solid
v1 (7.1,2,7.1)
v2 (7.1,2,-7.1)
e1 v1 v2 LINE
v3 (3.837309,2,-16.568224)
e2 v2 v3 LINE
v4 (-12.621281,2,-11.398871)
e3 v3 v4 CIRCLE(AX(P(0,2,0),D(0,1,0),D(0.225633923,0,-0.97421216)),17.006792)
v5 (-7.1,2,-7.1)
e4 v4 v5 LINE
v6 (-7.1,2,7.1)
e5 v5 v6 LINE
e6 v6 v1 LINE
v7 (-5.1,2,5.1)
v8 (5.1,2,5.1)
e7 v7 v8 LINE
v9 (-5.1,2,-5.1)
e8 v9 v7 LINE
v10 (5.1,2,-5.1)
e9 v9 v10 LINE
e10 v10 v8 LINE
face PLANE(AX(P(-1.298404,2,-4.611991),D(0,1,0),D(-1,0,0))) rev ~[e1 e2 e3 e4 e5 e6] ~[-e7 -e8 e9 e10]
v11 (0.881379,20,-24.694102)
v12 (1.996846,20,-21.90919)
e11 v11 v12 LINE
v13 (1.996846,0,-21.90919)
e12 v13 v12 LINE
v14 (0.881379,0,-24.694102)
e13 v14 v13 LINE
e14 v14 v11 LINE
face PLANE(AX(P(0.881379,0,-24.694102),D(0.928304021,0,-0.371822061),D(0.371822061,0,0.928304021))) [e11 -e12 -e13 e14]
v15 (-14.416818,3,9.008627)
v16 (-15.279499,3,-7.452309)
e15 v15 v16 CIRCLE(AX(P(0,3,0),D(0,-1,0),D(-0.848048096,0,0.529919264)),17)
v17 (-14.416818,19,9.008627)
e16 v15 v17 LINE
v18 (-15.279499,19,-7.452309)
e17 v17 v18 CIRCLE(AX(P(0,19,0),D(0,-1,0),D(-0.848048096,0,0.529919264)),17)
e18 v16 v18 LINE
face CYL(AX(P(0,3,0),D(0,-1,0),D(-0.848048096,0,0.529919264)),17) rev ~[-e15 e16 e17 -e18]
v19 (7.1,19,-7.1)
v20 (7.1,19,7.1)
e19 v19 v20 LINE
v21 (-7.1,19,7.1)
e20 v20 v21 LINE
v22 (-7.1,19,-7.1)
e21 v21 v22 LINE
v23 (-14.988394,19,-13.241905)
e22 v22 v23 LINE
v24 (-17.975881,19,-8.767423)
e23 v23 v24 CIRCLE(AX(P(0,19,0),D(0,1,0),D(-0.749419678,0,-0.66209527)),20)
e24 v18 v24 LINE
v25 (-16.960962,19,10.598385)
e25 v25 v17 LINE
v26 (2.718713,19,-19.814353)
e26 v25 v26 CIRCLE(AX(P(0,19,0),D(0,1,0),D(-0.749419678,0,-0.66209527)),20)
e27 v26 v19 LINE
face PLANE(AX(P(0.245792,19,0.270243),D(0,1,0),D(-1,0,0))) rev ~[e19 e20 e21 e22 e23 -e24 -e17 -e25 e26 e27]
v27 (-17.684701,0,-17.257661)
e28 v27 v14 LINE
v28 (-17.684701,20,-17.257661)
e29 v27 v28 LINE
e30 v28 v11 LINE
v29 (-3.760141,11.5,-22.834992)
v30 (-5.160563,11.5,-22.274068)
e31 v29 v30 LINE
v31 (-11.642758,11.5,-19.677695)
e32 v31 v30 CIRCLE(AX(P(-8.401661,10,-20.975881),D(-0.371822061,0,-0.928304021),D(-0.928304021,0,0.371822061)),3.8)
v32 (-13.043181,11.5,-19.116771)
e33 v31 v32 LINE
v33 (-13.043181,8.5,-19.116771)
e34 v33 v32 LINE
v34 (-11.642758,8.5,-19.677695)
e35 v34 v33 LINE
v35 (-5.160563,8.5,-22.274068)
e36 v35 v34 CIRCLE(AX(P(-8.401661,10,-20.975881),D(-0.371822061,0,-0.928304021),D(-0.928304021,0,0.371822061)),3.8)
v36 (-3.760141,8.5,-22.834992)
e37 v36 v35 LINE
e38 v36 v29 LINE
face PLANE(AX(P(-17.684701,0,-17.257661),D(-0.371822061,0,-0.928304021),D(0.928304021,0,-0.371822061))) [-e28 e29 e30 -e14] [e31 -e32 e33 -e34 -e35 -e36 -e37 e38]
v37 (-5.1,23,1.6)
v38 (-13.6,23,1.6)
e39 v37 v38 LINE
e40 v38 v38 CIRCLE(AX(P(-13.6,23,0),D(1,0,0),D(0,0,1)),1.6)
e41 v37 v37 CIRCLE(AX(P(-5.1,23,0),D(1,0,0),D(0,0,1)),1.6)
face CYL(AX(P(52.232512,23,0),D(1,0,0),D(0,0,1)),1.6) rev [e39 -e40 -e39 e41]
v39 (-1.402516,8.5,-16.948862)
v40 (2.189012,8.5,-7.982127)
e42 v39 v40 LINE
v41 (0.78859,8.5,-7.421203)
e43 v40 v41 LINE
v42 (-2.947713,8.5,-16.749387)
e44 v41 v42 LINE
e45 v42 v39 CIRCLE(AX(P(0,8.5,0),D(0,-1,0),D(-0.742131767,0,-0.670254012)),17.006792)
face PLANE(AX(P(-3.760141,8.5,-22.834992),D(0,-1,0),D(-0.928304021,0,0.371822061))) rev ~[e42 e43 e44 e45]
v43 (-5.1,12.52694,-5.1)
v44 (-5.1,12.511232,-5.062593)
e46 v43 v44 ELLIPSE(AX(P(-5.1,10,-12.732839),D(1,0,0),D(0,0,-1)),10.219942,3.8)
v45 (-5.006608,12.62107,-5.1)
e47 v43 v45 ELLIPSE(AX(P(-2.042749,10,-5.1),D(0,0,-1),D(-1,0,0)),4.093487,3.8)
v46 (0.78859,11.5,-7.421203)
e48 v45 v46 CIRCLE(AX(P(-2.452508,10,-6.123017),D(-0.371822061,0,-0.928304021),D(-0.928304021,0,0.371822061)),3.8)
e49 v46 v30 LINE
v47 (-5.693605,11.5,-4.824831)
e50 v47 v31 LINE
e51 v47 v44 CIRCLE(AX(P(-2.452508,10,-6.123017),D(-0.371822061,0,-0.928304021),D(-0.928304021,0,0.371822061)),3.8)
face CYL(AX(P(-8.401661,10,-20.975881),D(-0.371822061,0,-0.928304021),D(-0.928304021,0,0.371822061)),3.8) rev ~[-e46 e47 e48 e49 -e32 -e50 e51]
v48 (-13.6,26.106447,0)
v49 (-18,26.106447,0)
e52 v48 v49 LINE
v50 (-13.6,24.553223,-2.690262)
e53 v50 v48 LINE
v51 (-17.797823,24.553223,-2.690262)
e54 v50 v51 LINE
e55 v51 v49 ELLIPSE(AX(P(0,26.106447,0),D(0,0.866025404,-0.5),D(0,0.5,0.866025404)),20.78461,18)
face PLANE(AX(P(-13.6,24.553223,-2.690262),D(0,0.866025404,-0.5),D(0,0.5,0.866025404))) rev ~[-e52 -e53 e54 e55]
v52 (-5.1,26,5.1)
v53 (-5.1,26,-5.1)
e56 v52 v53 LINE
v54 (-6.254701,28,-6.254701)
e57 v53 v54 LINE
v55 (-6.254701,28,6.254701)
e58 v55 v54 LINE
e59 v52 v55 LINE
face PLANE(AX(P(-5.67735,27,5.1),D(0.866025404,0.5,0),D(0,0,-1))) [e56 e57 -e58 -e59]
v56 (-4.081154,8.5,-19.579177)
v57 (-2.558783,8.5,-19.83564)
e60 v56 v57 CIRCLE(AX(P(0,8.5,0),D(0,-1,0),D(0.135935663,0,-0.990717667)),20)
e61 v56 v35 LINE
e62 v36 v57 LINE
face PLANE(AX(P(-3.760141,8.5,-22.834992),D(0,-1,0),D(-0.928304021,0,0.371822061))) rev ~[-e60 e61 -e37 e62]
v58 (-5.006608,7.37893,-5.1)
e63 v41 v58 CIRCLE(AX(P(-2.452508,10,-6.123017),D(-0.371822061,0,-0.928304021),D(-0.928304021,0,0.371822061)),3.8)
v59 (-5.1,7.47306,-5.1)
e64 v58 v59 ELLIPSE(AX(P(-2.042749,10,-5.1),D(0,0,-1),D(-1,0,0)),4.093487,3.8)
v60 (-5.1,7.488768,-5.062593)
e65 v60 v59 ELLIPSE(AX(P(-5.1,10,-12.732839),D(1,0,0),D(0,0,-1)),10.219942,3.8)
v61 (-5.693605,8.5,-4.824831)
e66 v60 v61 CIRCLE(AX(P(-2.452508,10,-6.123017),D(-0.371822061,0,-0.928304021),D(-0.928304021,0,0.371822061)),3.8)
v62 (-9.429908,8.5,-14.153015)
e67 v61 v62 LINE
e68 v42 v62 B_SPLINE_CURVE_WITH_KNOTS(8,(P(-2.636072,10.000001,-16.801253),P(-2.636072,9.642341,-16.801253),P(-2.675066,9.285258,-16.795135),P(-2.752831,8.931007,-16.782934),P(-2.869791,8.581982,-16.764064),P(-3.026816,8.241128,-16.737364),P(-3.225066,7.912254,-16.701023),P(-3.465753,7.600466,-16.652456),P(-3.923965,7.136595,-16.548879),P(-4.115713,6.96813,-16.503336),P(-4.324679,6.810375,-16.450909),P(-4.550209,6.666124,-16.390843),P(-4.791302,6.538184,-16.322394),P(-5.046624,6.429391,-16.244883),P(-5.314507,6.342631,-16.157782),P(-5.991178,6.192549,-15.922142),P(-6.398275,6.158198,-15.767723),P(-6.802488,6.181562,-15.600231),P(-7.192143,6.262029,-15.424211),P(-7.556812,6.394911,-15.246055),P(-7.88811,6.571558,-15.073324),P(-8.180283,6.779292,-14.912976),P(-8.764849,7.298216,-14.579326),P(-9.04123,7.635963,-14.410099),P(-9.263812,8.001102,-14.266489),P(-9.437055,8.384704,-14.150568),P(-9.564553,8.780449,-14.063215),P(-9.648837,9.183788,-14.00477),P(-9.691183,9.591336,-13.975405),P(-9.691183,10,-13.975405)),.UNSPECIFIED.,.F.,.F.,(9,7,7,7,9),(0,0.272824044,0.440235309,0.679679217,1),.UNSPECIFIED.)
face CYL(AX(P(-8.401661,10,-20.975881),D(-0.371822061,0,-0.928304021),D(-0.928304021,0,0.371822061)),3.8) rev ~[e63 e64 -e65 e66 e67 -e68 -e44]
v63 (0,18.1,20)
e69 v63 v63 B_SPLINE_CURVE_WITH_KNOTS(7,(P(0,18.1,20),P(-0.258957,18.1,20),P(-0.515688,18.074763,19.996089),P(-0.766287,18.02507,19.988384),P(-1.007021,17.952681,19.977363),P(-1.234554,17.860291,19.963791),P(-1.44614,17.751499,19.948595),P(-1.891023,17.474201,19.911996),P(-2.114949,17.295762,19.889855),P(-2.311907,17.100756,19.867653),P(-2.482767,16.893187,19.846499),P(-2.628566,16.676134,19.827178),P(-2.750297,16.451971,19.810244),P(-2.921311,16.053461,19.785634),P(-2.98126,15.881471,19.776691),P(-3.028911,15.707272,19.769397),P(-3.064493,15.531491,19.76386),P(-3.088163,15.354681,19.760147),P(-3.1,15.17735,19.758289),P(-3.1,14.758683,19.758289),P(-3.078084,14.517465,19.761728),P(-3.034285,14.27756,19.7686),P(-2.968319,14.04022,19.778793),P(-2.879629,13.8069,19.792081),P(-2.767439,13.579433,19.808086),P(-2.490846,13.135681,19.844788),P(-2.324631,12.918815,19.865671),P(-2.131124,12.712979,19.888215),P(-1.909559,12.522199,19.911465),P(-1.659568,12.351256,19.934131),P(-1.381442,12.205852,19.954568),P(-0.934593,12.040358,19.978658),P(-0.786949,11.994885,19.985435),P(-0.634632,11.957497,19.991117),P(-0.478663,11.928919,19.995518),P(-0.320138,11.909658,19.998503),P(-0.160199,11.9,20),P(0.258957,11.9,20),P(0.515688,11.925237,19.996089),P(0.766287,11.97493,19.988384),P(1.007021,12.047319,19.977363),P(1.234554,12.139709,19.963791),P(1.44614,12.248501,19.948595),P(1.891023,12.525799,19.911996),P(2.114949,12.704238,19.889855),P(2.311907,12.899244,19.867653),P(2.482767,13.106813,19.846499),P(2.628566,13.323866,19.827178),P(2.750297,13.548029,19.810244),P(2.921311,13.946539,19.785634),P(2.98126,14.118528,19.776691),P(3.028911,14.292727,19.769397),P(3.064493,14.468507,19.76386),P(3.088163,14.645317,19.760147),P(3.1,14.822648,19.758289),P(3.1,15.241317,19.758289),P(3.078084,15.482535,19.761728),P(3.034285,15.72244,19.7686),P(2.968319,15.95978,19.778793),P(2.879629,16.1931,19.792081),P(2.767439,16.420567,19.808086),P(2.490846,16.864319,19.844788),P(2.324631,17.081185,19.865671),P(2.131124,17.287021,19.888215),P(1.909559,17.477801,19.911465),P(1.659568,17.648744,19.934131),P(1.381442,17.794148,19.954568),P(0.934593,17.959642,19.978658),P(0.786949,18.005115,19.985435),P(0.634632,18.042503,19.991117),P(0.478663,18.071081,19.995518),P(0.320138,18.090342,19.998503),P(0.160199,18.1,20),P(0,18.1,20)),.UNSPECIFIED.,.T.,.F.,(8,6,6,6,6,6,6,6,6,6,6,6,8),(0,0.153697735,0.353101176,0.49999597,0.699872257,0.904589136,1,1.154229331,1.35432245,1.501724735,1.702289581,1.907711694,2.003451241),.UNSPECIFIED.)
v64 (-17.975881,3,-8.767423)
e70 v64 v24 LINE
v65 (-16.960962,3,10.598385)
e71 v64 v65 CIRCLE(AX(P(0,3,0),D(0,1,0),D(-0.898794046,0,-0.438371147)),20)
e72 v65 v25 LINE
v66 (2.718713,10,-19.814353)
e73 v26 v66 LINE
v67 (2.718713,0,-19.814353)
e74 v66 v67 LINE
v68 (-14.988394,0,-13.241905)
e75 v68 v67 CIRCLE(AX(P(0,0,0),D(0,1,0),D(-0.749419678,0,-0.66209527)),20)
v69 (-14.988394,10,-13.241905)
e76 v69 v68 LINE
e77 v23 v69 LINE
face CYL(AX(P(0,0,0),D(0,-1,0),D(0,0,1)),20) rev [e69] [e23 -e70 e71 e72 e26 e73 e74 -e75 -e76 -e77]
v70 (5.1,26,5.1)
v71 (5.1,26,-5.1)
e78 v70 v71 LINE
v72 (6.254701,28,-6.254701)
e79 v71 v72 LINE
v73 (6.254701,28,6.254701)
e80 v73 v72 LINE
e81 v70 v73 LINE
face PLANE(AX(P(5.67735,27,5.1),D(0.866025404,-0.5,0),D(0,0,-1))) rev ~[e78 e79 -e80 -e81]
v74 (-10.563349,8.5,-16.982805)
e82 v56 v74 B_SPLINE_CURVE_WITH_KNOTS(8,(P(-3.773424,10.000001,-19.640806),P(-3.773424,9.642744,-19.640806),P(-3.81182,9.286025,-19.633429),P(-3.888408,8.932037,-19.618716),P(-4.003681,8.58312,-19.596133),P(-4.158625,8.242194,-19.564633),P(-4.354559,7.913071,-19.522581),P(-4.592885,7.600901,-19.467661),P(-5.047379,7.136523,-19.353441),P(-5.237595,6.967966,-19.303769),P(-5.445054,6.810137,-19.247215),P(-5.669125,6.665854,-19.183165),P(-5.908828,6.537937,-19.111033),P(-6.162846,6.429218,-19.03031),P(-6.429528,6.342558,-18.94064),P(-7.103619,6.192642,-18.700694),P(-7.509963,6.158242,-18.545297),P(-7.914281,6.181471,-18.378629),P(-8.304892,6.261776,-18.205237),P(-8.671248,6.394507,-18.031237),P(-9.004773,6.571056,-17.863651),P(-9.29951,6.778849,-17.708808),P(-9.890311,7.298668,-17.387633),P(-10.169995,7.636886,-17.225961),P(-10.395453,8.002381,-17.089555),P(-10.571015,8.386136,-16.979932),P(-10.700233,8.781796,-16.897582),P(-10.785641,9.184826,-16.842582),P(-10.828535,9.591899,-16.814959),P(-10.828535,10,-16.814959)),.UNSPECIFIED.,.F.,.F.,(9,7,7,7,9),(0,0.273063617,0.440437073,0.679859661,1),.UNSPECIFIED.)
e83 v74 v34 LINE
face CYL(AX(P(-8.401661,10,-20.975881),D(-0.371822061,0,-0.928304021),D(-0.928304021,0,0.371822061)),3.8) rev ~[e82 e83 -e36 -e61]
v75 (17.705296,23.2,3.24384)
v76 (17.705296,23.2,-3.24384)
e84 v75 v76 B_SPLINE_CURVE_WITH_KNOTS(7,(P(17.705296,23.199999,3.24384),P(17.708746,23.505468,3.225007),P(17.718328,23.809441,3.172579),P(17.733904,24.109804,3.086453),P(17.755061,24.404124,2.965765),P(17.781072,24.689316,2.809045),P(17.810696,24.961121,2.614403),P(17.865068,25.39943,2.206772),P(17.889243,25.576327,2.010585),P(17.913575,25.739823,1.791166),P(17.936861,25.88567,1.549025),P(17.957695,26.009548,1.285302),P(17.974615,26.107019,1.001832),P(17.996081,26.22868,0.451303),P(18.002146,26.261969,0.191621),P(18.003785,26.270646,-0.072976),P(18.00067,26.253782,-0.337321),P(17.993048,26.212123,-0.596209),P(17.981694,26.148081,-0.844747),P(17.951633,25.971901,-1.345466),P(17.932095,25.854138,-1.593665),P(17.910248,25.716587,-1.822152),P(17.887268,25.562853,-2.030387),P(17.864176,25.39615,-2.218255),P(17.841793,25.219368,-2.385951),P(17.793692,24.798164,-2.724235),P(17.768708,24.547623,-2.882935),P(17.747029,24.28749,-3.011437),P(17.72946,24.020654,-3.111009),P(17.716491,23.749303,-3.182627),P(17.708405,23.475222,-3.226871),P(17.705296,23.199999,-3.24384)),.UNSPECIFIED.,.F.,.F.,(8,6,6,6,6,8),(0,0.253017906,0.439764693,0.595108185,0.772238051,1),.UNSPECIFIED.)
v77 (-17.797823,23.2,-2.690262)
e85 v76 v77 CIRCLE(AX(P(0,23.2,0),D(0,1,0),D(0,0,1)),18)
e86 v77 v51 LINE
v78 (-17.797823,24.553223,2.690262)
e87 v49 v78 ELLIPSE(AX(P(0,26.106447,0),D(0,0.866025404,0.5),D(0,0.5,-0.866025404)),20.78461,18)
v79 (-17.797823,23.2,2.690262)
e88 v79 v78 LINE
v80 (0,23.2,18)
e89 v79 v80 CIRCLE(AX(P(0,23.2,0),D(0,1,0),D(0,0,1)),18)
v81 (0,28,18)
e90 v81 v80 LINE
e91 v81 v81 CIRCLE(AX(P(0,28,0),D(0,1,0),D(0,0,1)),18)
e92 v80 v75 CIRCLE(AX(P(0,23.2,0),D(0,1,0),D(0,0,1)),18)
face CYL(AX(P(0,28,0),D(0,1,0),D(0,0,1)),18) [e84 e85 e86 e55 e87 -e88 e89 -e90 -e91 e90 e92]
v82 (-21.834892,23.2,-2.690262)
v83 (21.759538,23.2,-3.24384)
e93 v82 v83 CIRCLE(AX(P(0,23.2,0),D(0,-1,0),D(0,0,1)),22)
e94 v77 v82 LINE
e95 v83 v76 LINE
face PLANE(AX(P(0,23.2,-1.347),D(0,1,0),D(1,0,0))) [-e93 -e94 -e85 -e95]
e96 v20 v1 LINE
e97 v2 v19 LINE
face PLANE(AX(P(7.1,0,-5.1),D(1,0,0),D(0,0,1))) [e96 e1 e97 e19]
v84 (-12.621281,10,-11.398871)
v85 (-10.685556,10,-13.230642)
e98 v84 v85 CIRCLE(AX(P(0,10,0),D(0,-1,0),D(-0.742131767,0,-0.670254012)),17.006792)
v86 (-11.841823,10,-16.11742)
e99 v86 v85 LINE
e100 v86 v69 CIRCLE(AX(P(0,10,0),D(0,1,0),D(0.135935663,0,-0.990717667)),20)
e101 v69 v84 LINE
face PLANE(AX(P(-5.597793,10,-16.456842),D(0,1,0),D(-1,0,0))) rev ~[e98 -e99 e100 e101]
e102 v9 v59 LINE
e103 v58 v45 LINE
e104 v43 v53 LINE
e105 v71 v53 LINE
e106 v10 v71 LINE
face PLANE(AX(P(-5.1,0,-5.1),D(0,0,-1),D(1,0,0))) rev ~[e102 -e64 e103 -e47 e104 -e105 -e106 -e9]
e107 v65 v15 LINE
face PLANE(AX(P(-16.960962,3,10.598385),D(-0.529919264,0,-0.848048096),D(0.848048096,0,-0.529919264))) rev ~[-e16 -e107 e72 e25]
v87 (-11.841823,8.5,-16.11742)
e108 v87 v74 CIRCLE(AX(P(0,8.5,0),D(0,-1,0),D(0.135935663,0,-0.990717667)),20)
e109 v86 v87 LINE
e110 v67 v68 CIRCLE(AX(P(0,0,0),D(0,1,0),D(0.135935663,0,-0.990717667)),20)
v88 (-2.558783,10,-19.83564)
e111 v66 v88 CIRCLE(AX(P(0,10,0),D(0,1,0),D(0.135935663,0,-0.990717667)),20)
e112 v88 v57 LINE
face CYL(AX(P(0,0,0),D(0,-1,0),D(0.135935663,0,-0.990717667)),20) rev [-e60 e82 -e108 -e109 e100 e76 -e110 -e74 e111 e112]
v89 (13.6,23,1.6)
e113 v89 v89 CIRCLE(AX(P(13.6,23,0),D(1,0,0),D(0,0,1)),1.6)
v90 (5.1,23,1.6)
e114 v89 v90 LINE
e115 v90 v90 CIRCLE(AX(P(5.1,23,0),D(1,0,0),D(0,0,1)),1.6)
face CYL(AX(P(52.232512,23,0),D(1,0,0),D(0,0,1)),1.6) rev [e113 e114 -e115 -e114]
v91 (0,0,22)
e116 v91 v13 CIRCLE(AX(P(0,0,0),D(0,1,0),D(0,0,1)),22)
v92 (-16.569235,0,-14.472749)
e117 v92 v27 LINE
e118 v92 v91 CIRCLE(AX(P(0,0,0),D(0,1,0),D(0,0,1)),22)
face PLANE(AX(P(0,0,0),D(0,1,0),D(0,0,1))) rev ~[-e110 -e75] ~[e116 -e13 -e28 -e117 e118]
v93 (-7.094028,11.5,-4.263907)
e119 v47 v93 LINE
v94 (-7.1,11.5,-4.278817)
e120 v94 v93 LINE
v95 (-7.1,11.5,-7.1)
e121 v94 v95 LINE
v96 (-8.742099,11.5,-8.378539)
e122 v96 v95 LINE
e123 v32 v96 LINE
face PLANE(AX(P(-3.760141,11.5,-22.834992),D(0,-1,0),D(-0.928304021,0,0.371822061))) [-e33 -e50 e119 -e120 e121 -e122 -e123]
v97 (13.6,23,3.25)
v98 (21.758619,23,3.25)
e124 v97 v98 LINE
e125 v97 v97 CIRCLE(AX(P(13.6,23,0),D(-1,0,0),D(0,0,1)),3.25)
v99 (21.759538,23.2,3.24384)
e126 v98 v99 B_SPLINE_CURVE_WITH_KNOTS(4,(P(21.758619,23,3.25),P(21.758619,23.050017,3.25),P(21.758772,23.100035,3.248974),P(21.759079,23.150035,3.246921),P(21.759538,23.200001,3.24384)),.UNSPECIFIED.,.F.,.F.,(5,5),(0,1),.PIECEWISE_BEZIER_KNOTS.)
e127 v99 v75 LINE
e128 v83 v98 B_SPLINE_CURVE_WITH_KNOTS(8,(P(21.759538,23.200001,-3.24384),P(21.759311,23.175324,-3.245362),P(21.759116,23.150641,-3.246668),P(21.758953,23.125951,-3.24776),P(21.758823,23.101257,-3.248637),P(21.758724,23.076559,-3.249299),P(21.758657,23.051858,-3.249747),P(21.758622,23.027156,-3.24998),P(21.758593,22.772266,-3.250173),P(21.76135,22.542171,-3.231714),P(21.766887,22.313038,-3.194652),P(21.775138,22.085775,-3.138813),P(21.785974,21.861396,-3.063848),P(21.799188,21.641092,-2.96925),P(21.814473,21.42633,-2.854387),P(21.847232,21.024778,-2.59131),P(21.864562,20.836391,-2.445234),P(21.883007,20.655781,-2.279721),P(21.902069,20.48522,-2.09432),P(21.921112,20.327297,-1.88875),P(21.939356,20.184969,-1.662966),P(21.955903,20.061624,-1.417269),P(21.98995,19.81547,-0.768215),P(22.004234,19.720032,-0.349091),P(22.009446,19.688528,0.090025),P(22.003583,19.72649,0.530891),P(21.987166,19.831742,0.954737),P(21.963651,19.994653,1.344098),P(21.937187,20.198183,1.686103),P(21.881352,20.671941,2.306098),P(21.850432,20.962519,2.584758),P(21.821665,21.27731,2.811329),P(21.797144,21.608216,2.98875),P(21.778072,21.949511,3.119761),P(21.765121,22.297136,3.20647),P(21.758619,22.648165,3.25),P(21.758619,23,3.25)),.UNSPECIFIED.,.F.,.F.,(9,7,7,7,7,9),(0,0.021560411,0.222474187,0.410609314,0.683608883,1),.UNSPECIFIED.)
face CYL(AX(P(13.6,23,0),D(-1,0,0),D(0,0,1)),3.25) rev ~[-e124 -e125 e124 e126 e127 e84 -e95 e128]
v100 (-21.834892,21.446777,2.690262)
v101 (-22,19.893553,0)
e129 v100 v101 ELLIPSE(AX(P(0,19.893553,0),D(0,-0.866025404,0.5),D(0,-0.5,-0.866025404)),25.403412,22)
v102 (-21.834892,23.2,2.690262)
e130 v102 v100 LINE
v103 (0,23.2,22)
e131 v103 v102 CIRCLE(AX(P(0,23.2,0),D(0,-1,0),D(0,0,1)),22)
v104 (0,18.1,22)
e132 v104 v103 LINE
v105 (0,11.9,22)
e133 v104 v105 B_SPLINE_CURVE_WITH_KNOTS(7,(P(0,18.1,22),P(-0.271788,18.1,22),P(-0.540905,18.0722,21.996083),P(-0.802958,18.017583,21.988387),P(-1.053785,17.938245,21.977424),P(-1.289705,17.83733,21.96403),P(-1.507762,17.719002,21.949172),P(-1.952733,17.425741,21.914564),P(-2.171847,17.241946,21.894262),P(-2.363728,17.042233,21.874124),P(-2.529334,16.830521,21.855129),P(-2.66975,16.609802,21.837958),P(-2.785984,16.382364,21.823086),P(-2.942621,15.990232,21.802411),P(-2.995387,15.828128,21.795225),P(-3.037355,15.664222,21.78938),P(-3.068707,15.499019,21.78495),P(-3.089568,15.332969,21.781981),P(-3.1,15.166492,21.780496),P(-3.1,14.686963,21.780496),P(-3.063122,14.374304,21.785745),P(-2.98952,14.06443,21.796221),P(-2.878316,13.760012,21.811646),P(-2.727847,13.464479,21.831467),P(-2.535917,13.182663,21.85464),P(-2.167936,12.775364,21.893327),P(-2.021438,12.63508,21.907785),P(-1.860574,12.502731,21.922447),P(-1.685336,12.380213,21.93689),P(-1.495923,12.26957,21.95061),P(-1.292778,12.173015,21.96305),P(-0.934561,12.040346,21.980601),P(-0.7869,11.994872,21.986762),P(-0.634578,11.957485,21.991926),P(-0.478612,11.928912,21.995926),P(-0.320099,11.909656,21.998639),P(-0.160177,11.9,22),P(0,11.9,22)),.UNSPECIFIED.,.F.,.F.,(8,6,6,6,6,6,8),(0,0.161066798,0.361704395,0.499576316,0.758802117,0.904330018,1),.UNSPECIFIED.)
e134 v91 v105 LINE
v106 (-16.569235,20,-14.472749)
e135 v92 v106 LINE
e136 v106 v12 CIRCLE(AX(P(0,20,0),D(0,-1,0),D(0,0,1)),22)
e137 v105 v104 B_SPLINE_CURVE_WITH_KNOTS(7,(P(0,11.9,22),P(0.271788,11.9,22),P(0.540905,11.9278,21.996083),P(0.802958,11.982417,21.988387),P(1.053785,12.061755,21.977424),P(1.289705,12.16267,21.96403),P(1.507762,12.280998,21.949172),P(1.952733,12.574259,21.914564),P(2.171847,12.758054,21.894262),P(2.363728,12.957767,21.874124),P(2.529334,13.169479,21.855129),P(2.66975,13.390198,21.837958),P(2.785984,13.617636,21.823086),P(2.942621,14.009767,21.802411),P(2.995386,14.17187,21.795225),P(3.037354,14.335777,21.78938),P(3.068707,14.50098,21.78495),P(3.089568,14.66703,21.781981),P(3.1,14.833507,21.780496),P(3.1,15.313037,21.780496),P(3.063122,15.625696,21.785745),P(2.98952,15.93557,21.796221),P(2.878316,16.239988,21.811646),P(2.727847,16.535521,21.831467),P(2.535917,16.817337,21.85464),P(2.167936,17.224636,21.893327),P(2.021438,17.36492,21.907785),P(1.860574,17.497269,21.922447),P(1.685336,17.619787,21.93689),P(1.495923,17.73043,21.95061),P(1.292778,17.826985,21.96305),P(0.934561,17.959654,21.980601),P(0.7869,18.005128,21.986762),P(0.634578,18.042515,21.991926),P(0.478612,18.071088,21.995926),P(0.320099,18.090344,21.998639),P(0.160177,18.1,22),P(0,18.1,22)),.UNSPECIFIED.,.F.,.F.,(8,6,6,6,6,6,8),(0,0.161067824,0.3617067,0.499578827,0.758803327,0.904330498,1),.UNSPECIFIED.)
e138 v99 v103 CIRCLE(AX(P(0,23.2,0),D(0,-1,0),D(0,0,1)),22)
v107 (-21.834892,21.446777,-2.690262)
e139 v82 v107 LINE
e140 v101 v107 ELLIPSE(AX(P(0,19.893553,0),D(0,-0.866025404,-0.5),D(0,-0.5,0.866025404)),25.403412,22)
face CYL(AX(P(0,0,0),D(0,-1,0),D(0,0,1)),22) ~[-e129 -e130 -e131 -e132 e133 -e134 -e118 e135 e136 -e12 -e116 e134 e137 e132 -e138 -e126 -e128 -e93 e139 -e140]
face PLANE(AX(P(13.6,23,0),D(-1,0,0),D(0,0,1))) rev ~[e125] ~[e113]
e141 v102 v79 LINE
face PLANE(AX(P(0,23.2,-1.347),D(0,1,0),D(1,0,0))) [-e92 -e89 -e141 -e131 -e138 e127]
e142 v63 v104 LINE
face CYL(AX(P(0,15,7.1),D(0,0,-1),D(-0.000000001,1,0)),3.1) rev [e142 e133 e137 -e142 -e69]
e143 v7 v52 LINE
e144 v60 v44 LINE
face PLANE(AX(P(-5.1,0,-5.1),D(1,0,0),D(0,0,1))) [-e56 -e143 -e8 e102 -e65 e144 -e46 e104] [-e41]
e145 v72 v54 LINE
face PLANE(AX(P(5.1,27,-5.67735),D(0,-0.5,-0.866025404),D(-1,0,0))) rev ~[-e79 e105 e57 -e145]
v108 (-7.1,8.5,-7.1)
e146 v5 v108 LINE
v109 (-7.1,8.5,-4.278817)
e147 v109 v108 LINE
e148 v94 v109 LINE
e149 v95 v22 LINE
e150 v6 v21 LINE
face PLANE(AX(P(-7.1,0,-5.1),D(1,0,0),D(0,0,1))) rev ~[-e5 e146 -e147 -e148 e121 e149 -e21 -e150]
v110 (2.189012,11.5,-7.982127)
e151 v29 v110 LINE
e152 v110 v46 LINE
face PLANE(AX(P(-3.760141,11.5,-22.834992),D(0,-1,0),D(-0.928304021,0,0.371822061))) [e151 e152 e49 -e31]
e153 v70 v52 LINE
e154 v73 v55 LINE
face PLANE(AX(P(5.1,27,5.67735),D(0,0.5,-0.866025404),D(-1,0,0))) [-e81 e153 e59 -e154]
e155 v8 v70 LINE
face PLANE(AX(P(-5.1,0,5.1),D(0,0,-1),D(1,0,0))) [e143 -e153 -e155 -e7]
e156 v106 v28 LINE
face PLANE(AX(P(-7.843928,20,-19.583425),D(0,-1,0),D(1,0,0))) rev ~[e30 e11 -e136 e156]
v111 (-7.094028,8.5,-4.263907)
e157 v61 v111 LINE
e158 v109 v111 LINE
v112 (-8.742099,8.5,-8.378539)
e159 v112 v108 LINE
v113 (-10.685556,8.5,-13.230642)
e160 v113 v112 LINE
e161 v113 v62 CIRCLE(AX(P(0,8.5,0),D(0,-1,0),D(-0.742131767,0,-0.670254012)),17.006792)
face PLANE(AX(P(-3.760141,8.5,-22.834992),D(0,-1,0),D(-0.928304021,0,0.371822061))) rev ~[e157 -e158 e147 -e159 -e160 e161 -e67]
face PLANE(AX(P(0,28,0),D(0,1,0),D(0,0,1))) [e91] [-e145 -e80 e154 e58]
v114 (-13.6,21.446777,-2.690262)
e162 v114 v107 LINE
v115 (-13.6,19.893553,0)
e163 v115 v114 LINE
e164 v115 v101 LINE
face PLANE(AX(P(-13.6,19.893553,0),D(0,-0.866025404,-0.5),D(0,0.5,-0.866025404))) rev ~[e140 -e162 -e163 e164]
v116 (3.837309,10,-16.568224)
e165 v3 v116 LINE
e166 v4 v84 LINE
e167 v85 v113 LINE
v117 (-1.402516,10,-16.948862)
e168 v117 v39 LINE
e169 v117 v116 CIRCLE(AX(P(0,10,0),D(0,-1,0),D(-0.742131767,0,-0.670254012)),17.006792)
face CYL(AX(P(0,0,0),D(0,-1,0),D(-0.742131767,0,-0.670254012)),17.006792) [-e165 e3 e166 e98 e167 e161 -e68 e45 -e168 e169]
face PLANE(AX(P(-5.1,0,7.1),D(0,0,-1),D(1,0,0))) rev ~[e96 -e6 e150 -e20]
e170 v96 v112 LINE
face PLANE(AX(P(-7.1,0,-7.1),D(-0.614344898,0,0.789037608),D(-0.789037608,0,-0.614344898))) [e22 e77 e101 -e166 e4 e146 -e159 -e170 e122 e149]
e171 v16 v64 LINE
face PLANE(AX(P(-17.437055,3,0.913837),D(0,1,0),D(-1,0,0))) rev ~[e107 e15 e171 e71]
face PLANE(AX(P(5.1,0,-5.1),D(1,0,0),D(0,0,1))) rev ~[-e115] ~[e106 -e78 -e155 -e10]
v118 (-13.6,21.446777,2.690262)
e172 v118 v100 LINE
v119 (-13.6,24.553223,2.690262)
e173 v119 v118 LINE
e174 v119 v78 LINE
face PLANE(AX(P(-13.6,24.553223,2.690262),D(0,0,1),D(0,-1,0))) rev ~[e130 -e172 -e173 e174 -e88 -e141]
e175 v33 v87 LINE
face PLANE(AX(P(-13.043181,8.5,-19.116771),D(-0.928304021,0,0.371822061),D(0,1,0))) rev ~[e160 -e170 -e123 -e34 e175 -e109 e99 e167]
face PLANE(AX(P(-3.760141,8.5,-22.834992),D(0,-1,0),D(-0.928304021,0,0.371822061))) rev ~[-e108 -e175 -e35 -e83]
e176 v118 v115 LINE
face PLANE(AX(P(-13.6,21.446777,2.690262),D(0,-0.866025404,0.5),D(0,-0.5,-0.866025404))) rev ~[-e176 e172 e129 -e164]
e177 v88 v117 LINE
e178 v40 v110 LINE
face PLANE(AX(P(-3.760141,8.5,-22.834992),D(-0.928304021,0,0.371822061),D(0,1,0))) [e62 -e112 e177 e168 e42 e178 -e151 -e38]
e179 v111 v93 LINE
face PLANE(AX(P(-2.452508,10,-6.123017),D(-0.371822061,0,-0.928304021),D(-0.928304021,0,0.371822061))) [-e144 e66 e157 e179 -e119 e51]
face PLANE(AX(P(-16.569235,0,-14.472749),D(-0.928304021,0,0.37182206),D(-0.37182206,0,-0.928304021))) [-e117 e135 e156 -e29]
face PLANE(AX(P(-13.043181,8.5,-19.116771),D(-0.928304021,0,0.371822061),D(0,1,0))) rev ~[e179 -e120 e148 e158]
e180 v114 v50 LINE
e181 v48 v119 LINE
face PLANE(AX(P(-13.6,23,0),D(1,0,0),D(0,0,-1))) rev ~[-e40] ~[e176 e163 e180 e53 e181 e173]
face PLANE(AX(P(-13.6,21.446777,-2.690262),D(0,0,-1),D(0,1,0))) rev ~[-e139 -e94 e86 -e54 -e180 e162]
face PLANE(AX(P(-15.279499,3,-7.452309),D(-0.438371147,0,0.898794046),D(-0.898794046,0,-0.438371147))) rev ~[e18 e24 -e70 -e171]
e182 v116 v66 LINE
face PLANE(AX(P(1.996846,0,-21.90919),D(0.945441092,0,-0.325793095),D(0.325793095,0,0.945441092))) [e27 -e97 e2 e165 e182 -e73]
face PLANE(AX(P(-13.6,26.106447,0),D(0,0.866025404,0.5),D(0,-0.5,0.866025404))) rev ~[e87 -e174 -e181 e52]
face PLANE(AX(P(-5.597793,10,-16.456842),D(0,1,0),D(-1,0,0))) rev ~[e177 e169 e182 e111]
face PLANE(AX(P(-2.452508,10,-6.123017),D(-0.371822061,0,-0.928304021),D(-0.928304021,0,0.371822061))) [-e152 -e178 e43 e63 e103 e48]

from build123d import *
from OCP.BRepFilletAPI import BRepFilletAPI_MakeChamfer

# Parameters (mm, degrees)
SKETCH1_R                = 22
BOSS_EXTRUDE1_DEPTH      = 28
SKETCH2_W                = 10.2
SKETCH2_H                = 10.2
CUT_EXTRUDE2_DEPTH       = 42.856899073
SHELL3_T                 = -2
SKETCH3_R                = 3.1
CUT_EXTRUDE3_DEPTH       = 46.987063398
CHAMFER1_SIZE            = 2
CHAMFER1_SIZE2           = 1.154700538
BOSS_EXTRUDE8_START      = 23
BOSS_EXTRUDE8_DEPTH      = 23
BOSS_EXTRUDE4_DEPTH      = 20
BOSS_EXTRUDE6_DEPTH      = 26
CUT_EXTRUDE5_DEPTH       = 10
SKETCH13_R               = 3.8
CUT_EXTRUDE6_DEPTH       = 16
SKETCH15_W               = 10
SKETCH15_H               = 3
CUT_EXTRUDE8_DEPTH       = 16
CUT_EXTRUDE9_DEPTH       = 2
BOSS_EXTRUDE10_START     = 7
BOSS_EXTRUDE10_DEPTH     = 7
SKETCH21_OUTSIDE_W       = 60
SKETCH21_OUTSIDE_H       = 62.694
SKETCH21_OUTSIDE_R       = 18
CUT_EXTRUDE11_DEPTH      = 4.8
CUT_EXTRUDE12_DEPTH      = 47.132512216
CUT_EXTRUDE12_DEPTH_BACK = 47.132512216
SKETCH22_R               = 1.6
CUT_EXTRUDE13_START      = -8.5
SKETCH24_R               = 3.25
CUT_EXTRUDE13_DEPTH      = 38.632512277
CUT_EXTRUDE14_START      = -8.5
CUT_EXTRUDE14_DEPTH      = 38.632512278


with BuildPart() as part:
    # Sketch1 → Boss-Extrude1 (new body)
    with BuildSketch(Plane(origin=(0, 0, 0), x_dir=(1, 0, 0), z_dir=(0, 1, 0))):
        with Locations(Location((0, 0, 0), (0, 0, 270))):
            Circle(SKETCH1_R)
    extrude(amount=BOSS_EXTRUDE1_DEPTH)

    # Sketch2 → Cut-Extrude2 (cut, through all)
    with BuildSketch(Plane.XZ):
        Rectangle(SKETCH2_W, SKETCH2_H)
    extrude(amount=-CUT_EXTRUDE2_DEPTH, mode=Mode.SUBTRACT)

    # Shell3
    shell3_openings = [part.faces().sort_by_distance(p)[0] for p in [
        (0, 0, -21.377746033),
    ]]
    offset(amount=SHELL3_T, openings=shell3_openings, kind=Kind.INTERSECTION)

    # Sketch3 → Cut-Extrude3 (cut, through all)
    with BuildSketch(Plane.XY.offset(7.1)):
        with Locations(Location((0, 15, 0), (0, 0, 90.000000051))):
            Circle(SKETCH3_R)
    extrude(amount=CUT_EXTRUDE3_DEPTH, mode=Mode.SUBTRACT)

    # Chamfer1: one chamfer whose edges measure the first distance from different faces: ONE call of the kernel's chamfer builder (chamfer() names one face for all edges)
    chamfer1_edges_1 = [part.edges().sort_by_distance(p)[0] for p in [
        (5.1, 28, 0),
    ]]
    chamfer1_side_1 = [part.faces().sort_by_distance(p)[0] for p in [
        (5.1, 14, 0),
    ]]
    chamfer1_edges_2 = [part.edges().sort_by_distance(p)[0] for p in [
        (0, 28, -5.1),
    ]]
    chamfer1_side_2 = [part.faces().sort_by_distance(p)[0] for p in [
        (0, 14, -5.1),
    ]]
    chamfer1_edges_3 = [part.edges().sort_by_distance(p)[0] for p in [
        (-5.1, 28, 0),
    ]]
    chamfer1_side_3 = [part.faces().sort_by_distance(p)[0] for p in [
        (-5.1, 14, 0),
    ]]
    chamfer1_edges_4 = [part.edges().sort_by_distance(p)[0] for p in [
        (0, 28, 5.1),
    ]]
    chamfer1_side_4 = [part.faces().sort_by_distance(p)[0] for p in [
        (0, 14, 5.1),
    ]]
    chamfer1 = BRepFilletAPI_MakeChamfer(part.part.solid().wrapped)
    for e in chamfer1_edges_1:
        chamfer1.Add(CHAMFER1_SIZE, CHAMFER1_SIZE2, e.wrapped, chamfer1_side_1[0].wrapped)  # the first distance lies on this face
    for e in chamfer1_edges_2:
        chamfer1.Add(CHAMFER1_SIZE, CHAMFER1_SIZE2, e.wrapped, chamfer1_side_2[0].wrapped)  # the first distance lies on this face
    for e in chamfer1_edges_3:
        chamfer1.Add(CHAMFER1_SIZE, CHAMFER1_SIZE2, e.wrapped, chamfer1_side_3[0].wrapped)  # the first distance lies on this face
    for e in chamfer1_edges_4:
        chamfer1.Add(CHAMFER1_SIZE, CHAMFER1_SIZE2, e.wrapped, chamfer1_side_4[0].wrapped)  # the first distance lies on this face
    add(Compound.cast(chamfer1.Shape()), mode=Mode.REPLACE)

    # Sketch18 → Boss-Extrude8 (add)
    with BuildSketch(Plane.XZ.offset(-26).offset(BOSS_EXTRUDE8_START)):
        with BuildLine():
            Line((-15.279498787, -7.452309495), (-17.975880926, -8.767422936))
            ThreePointArc((-17.975880926, -8.767422936), (-19.972590695, 1.046719125), (-16.960961923, 10.598385285))
            Line((-16.960961923, 10.598385285), (-14.416817635, 9.008627492))
            ThreePointArc((-14.416817635, 9.008627492), (-16.976702091, 0.889711256), (-15.279498787, -7.452309495))
        make_face()
    extrude(amount=-BOSS_EXTRUDE8_DEPTH)

    # Sketch9 → Boss-Extrude4 (add)
    with BuildSketch(Plane.XZ):
        Polygon((1.996845621, -21.909190025), (-16.569234798, -14.472748814), (-17.684700979, -17.257660876), (0.881379439, -24.694102088), align=None)
    extrude(amount=-BOSS_EXTRUDE4_DEPTH)

    # Sketch11 → Boss-Extrude6 (add)
    with BuildSketch(Plane.XZ):
        with BuildLine():
            Line((1.996845621, -21.909190025), (7.1, -7.1))
            Line((7.1, -7.1), (-7.1, -7.1))
            Line((-7.1, -7.1), (-16.569234798, -14.472748814))
            ThreePointArc((-16.569234798, -14.472748814), (-8.180085333, -20.42268846), (1.996845621, -21.909190025))
        make_face()
    extrude(amount=-BOSS_EXTRUDE6_DEPTH)

    # Sketch12 → Cut-Extrude5 (cut)
    with BuildSketch(Plane.XZ):
        with BuildLine():
            Line((3.837309235, -16.568223759), (2.718713258, -19.814353338))
            ThreePointArc((2.718713258, -19.814353338), (-6.959564044, -18.750052488), (-14.988393562, -13.241905393))
            Line((-14.988393562, -13.241905393), (-12.621280739, -11.398870699))
            ThreePointArc((-12.621280739, -11.398870699), (-5.096085911, -16.225316302), (3.837309235, -16.568223759))
        make_face()
    extrude(amount=-CUT_EXTRUDE5_DEPTH, mode=Mode.SUBTRACT)

    # Sketch13 → Cut-Extrude6 (cut)
    with BuildSketch(Plane(origin=(-8.40166077, 0, -20.975881482), x_dir=(-0.9283040209233338, 0, 0.3718220605848592), z_dir=(-0.3718220605848592, 0, -0.9283040209233338))):
        with Locations((0, 10)):
            Circle(SKETCH13_R)
    extrude(amount=-CUT_EXTRUDE6_DEPTH, mode=Mode.SUBTRACT)

    # Sketch15 → Cut-Extrude8 (cut)
    with BuildSketch(Plane(origin=(-8.40166077, 0, -20.975881482), x_dir=(-0.9283040209233339, 0, 0.37182206058485906), z_dir=(-0.37182206058485906, 0, -0.9283040209233339))):
        with Locations((0, 10)):
            Rectangle(SKETCH15_W, SKETCH15_H)
    extrude(amount=-CUT_EXTRUDE8_DEPTH, mode=Mode.SUBTRACT)

    # Sketch17 → Cut-Extrude9 (cut)
    with BuildSketch(Plane.XZ):
        with BuildLine():
            Line((7.1, 7.1), (7.1, -7.1))
            Line((7.1, -7.1), (3.837309235, -16.568223759))
            ThreePointArc((3.837309235, -16.568223759), (-5.096085911, -16.225316302), (-12.621280739, -11.398870699))
            Line((-12.621280739, -11.398870699), (-7.1, -7.1))
            Line((-7.1, -7.1), (-7.1, 7.1))
            Line((-7.1, 7.1), (7.1, 7.1))
        make_face()
    extrude(amount=-CUT_EXTRUDE9_DEPTH, mode=Mode.SUBTRACT)

    # Sketch20 → Boss-Extrude10 (add)
    with BuildSketch(Plane.XZ.offset(-26).offset(BOSS_EXTRUDE10_START)):
        with BuildLine():
            Line((2.718713258, -19.814353338), (7.1, -7.1))
            Line((7.1, -7.1), (7.1, 7.1))
            Line((7.1, 7.1), (-7.1, 7.1))
            Line((-7.1, 7.1), (-7.1, -7.1))
            Line((-7.1, -7.1), (-14.988393562, -13.241905393))
            ThreePointArc((-14.988393562, -13.241905393), (6.959564044, 18.750052488), (2.718713258, -19.814353338))
        make_face()
    extrude(amount=-BOSS_EXTRUDE10_DEPTH)

    # Sketch21 outside → Cut-Extrude11 (cut)
    with BuildSketch(Plane(origin=(0, 28, 0), x_dir=(1, 0, 0), z_dir=(0, 1, 0))):
        with Locations((0, 1.347)):
            Rectangle(SKETCH21_OUTSIDE_W, SKETCH21_OUTSIDE_H)
        with Locations(Location((0, 0, 0), (0, 0, 270))):
            Circle(SKETCH21_OUTSIDE_R, mode=Mode.SUBTRACT)
    extrude(amount=-CUT_EXTRUDE11_DEPTH, mode=Mode.SUBTRACT)

    # Sketch22 → Cut-Extrude12 (cut, two sides: drawn at the far end of the back side and taken through both)
    with BuildSketch(Plane.ZY.offset(-5.1).offset(-CUT_EXTRUDE12_DEPTH_BACK)):
        with Locations((0, 23)):
            Circle(SKETCH22_R)
    extrude(amount=CUT_EXTRUDE12_DEPTH + CUT_EXTRUDE12_DEPTH_BACK, mode=Mode.SUBTRACT)

    # Sketch24 → Cut-Extrude13 (cut, through all)
    with BuildSketch(Plane.ZY.offset(-5.1).offset(CUT_EXTRUDE13_START)):
        with Locations((0, 23)):
            Circle(SKETCH24_R)
    extrude(amount=-CUT_EXTRUDE13_DEPTH, mode=Mode.SUBTRACT)

    # Sketch25 → Cut-Extrude14 (cut, through all)
    with BuildSketch(Plane(origin=(-5.1, 0, 0), x_dir=(0, 0, -1), z_dir=(1, 0, 0)).offset(CUT_EXTRUDE14_START)):
        Polygon((0, 19.893553151), (2.690261887, 21.446776575), (2.690261887, 24.553223425), (0, 26.106446849), (-2.690261887, 24.553223425), (-2.690261887, 21.446776575), align=None)
    extrude(amount=-CUT_EXTRUDE14_DEPTH, mode=Mode.SUBTRACT)


solid = part.part
